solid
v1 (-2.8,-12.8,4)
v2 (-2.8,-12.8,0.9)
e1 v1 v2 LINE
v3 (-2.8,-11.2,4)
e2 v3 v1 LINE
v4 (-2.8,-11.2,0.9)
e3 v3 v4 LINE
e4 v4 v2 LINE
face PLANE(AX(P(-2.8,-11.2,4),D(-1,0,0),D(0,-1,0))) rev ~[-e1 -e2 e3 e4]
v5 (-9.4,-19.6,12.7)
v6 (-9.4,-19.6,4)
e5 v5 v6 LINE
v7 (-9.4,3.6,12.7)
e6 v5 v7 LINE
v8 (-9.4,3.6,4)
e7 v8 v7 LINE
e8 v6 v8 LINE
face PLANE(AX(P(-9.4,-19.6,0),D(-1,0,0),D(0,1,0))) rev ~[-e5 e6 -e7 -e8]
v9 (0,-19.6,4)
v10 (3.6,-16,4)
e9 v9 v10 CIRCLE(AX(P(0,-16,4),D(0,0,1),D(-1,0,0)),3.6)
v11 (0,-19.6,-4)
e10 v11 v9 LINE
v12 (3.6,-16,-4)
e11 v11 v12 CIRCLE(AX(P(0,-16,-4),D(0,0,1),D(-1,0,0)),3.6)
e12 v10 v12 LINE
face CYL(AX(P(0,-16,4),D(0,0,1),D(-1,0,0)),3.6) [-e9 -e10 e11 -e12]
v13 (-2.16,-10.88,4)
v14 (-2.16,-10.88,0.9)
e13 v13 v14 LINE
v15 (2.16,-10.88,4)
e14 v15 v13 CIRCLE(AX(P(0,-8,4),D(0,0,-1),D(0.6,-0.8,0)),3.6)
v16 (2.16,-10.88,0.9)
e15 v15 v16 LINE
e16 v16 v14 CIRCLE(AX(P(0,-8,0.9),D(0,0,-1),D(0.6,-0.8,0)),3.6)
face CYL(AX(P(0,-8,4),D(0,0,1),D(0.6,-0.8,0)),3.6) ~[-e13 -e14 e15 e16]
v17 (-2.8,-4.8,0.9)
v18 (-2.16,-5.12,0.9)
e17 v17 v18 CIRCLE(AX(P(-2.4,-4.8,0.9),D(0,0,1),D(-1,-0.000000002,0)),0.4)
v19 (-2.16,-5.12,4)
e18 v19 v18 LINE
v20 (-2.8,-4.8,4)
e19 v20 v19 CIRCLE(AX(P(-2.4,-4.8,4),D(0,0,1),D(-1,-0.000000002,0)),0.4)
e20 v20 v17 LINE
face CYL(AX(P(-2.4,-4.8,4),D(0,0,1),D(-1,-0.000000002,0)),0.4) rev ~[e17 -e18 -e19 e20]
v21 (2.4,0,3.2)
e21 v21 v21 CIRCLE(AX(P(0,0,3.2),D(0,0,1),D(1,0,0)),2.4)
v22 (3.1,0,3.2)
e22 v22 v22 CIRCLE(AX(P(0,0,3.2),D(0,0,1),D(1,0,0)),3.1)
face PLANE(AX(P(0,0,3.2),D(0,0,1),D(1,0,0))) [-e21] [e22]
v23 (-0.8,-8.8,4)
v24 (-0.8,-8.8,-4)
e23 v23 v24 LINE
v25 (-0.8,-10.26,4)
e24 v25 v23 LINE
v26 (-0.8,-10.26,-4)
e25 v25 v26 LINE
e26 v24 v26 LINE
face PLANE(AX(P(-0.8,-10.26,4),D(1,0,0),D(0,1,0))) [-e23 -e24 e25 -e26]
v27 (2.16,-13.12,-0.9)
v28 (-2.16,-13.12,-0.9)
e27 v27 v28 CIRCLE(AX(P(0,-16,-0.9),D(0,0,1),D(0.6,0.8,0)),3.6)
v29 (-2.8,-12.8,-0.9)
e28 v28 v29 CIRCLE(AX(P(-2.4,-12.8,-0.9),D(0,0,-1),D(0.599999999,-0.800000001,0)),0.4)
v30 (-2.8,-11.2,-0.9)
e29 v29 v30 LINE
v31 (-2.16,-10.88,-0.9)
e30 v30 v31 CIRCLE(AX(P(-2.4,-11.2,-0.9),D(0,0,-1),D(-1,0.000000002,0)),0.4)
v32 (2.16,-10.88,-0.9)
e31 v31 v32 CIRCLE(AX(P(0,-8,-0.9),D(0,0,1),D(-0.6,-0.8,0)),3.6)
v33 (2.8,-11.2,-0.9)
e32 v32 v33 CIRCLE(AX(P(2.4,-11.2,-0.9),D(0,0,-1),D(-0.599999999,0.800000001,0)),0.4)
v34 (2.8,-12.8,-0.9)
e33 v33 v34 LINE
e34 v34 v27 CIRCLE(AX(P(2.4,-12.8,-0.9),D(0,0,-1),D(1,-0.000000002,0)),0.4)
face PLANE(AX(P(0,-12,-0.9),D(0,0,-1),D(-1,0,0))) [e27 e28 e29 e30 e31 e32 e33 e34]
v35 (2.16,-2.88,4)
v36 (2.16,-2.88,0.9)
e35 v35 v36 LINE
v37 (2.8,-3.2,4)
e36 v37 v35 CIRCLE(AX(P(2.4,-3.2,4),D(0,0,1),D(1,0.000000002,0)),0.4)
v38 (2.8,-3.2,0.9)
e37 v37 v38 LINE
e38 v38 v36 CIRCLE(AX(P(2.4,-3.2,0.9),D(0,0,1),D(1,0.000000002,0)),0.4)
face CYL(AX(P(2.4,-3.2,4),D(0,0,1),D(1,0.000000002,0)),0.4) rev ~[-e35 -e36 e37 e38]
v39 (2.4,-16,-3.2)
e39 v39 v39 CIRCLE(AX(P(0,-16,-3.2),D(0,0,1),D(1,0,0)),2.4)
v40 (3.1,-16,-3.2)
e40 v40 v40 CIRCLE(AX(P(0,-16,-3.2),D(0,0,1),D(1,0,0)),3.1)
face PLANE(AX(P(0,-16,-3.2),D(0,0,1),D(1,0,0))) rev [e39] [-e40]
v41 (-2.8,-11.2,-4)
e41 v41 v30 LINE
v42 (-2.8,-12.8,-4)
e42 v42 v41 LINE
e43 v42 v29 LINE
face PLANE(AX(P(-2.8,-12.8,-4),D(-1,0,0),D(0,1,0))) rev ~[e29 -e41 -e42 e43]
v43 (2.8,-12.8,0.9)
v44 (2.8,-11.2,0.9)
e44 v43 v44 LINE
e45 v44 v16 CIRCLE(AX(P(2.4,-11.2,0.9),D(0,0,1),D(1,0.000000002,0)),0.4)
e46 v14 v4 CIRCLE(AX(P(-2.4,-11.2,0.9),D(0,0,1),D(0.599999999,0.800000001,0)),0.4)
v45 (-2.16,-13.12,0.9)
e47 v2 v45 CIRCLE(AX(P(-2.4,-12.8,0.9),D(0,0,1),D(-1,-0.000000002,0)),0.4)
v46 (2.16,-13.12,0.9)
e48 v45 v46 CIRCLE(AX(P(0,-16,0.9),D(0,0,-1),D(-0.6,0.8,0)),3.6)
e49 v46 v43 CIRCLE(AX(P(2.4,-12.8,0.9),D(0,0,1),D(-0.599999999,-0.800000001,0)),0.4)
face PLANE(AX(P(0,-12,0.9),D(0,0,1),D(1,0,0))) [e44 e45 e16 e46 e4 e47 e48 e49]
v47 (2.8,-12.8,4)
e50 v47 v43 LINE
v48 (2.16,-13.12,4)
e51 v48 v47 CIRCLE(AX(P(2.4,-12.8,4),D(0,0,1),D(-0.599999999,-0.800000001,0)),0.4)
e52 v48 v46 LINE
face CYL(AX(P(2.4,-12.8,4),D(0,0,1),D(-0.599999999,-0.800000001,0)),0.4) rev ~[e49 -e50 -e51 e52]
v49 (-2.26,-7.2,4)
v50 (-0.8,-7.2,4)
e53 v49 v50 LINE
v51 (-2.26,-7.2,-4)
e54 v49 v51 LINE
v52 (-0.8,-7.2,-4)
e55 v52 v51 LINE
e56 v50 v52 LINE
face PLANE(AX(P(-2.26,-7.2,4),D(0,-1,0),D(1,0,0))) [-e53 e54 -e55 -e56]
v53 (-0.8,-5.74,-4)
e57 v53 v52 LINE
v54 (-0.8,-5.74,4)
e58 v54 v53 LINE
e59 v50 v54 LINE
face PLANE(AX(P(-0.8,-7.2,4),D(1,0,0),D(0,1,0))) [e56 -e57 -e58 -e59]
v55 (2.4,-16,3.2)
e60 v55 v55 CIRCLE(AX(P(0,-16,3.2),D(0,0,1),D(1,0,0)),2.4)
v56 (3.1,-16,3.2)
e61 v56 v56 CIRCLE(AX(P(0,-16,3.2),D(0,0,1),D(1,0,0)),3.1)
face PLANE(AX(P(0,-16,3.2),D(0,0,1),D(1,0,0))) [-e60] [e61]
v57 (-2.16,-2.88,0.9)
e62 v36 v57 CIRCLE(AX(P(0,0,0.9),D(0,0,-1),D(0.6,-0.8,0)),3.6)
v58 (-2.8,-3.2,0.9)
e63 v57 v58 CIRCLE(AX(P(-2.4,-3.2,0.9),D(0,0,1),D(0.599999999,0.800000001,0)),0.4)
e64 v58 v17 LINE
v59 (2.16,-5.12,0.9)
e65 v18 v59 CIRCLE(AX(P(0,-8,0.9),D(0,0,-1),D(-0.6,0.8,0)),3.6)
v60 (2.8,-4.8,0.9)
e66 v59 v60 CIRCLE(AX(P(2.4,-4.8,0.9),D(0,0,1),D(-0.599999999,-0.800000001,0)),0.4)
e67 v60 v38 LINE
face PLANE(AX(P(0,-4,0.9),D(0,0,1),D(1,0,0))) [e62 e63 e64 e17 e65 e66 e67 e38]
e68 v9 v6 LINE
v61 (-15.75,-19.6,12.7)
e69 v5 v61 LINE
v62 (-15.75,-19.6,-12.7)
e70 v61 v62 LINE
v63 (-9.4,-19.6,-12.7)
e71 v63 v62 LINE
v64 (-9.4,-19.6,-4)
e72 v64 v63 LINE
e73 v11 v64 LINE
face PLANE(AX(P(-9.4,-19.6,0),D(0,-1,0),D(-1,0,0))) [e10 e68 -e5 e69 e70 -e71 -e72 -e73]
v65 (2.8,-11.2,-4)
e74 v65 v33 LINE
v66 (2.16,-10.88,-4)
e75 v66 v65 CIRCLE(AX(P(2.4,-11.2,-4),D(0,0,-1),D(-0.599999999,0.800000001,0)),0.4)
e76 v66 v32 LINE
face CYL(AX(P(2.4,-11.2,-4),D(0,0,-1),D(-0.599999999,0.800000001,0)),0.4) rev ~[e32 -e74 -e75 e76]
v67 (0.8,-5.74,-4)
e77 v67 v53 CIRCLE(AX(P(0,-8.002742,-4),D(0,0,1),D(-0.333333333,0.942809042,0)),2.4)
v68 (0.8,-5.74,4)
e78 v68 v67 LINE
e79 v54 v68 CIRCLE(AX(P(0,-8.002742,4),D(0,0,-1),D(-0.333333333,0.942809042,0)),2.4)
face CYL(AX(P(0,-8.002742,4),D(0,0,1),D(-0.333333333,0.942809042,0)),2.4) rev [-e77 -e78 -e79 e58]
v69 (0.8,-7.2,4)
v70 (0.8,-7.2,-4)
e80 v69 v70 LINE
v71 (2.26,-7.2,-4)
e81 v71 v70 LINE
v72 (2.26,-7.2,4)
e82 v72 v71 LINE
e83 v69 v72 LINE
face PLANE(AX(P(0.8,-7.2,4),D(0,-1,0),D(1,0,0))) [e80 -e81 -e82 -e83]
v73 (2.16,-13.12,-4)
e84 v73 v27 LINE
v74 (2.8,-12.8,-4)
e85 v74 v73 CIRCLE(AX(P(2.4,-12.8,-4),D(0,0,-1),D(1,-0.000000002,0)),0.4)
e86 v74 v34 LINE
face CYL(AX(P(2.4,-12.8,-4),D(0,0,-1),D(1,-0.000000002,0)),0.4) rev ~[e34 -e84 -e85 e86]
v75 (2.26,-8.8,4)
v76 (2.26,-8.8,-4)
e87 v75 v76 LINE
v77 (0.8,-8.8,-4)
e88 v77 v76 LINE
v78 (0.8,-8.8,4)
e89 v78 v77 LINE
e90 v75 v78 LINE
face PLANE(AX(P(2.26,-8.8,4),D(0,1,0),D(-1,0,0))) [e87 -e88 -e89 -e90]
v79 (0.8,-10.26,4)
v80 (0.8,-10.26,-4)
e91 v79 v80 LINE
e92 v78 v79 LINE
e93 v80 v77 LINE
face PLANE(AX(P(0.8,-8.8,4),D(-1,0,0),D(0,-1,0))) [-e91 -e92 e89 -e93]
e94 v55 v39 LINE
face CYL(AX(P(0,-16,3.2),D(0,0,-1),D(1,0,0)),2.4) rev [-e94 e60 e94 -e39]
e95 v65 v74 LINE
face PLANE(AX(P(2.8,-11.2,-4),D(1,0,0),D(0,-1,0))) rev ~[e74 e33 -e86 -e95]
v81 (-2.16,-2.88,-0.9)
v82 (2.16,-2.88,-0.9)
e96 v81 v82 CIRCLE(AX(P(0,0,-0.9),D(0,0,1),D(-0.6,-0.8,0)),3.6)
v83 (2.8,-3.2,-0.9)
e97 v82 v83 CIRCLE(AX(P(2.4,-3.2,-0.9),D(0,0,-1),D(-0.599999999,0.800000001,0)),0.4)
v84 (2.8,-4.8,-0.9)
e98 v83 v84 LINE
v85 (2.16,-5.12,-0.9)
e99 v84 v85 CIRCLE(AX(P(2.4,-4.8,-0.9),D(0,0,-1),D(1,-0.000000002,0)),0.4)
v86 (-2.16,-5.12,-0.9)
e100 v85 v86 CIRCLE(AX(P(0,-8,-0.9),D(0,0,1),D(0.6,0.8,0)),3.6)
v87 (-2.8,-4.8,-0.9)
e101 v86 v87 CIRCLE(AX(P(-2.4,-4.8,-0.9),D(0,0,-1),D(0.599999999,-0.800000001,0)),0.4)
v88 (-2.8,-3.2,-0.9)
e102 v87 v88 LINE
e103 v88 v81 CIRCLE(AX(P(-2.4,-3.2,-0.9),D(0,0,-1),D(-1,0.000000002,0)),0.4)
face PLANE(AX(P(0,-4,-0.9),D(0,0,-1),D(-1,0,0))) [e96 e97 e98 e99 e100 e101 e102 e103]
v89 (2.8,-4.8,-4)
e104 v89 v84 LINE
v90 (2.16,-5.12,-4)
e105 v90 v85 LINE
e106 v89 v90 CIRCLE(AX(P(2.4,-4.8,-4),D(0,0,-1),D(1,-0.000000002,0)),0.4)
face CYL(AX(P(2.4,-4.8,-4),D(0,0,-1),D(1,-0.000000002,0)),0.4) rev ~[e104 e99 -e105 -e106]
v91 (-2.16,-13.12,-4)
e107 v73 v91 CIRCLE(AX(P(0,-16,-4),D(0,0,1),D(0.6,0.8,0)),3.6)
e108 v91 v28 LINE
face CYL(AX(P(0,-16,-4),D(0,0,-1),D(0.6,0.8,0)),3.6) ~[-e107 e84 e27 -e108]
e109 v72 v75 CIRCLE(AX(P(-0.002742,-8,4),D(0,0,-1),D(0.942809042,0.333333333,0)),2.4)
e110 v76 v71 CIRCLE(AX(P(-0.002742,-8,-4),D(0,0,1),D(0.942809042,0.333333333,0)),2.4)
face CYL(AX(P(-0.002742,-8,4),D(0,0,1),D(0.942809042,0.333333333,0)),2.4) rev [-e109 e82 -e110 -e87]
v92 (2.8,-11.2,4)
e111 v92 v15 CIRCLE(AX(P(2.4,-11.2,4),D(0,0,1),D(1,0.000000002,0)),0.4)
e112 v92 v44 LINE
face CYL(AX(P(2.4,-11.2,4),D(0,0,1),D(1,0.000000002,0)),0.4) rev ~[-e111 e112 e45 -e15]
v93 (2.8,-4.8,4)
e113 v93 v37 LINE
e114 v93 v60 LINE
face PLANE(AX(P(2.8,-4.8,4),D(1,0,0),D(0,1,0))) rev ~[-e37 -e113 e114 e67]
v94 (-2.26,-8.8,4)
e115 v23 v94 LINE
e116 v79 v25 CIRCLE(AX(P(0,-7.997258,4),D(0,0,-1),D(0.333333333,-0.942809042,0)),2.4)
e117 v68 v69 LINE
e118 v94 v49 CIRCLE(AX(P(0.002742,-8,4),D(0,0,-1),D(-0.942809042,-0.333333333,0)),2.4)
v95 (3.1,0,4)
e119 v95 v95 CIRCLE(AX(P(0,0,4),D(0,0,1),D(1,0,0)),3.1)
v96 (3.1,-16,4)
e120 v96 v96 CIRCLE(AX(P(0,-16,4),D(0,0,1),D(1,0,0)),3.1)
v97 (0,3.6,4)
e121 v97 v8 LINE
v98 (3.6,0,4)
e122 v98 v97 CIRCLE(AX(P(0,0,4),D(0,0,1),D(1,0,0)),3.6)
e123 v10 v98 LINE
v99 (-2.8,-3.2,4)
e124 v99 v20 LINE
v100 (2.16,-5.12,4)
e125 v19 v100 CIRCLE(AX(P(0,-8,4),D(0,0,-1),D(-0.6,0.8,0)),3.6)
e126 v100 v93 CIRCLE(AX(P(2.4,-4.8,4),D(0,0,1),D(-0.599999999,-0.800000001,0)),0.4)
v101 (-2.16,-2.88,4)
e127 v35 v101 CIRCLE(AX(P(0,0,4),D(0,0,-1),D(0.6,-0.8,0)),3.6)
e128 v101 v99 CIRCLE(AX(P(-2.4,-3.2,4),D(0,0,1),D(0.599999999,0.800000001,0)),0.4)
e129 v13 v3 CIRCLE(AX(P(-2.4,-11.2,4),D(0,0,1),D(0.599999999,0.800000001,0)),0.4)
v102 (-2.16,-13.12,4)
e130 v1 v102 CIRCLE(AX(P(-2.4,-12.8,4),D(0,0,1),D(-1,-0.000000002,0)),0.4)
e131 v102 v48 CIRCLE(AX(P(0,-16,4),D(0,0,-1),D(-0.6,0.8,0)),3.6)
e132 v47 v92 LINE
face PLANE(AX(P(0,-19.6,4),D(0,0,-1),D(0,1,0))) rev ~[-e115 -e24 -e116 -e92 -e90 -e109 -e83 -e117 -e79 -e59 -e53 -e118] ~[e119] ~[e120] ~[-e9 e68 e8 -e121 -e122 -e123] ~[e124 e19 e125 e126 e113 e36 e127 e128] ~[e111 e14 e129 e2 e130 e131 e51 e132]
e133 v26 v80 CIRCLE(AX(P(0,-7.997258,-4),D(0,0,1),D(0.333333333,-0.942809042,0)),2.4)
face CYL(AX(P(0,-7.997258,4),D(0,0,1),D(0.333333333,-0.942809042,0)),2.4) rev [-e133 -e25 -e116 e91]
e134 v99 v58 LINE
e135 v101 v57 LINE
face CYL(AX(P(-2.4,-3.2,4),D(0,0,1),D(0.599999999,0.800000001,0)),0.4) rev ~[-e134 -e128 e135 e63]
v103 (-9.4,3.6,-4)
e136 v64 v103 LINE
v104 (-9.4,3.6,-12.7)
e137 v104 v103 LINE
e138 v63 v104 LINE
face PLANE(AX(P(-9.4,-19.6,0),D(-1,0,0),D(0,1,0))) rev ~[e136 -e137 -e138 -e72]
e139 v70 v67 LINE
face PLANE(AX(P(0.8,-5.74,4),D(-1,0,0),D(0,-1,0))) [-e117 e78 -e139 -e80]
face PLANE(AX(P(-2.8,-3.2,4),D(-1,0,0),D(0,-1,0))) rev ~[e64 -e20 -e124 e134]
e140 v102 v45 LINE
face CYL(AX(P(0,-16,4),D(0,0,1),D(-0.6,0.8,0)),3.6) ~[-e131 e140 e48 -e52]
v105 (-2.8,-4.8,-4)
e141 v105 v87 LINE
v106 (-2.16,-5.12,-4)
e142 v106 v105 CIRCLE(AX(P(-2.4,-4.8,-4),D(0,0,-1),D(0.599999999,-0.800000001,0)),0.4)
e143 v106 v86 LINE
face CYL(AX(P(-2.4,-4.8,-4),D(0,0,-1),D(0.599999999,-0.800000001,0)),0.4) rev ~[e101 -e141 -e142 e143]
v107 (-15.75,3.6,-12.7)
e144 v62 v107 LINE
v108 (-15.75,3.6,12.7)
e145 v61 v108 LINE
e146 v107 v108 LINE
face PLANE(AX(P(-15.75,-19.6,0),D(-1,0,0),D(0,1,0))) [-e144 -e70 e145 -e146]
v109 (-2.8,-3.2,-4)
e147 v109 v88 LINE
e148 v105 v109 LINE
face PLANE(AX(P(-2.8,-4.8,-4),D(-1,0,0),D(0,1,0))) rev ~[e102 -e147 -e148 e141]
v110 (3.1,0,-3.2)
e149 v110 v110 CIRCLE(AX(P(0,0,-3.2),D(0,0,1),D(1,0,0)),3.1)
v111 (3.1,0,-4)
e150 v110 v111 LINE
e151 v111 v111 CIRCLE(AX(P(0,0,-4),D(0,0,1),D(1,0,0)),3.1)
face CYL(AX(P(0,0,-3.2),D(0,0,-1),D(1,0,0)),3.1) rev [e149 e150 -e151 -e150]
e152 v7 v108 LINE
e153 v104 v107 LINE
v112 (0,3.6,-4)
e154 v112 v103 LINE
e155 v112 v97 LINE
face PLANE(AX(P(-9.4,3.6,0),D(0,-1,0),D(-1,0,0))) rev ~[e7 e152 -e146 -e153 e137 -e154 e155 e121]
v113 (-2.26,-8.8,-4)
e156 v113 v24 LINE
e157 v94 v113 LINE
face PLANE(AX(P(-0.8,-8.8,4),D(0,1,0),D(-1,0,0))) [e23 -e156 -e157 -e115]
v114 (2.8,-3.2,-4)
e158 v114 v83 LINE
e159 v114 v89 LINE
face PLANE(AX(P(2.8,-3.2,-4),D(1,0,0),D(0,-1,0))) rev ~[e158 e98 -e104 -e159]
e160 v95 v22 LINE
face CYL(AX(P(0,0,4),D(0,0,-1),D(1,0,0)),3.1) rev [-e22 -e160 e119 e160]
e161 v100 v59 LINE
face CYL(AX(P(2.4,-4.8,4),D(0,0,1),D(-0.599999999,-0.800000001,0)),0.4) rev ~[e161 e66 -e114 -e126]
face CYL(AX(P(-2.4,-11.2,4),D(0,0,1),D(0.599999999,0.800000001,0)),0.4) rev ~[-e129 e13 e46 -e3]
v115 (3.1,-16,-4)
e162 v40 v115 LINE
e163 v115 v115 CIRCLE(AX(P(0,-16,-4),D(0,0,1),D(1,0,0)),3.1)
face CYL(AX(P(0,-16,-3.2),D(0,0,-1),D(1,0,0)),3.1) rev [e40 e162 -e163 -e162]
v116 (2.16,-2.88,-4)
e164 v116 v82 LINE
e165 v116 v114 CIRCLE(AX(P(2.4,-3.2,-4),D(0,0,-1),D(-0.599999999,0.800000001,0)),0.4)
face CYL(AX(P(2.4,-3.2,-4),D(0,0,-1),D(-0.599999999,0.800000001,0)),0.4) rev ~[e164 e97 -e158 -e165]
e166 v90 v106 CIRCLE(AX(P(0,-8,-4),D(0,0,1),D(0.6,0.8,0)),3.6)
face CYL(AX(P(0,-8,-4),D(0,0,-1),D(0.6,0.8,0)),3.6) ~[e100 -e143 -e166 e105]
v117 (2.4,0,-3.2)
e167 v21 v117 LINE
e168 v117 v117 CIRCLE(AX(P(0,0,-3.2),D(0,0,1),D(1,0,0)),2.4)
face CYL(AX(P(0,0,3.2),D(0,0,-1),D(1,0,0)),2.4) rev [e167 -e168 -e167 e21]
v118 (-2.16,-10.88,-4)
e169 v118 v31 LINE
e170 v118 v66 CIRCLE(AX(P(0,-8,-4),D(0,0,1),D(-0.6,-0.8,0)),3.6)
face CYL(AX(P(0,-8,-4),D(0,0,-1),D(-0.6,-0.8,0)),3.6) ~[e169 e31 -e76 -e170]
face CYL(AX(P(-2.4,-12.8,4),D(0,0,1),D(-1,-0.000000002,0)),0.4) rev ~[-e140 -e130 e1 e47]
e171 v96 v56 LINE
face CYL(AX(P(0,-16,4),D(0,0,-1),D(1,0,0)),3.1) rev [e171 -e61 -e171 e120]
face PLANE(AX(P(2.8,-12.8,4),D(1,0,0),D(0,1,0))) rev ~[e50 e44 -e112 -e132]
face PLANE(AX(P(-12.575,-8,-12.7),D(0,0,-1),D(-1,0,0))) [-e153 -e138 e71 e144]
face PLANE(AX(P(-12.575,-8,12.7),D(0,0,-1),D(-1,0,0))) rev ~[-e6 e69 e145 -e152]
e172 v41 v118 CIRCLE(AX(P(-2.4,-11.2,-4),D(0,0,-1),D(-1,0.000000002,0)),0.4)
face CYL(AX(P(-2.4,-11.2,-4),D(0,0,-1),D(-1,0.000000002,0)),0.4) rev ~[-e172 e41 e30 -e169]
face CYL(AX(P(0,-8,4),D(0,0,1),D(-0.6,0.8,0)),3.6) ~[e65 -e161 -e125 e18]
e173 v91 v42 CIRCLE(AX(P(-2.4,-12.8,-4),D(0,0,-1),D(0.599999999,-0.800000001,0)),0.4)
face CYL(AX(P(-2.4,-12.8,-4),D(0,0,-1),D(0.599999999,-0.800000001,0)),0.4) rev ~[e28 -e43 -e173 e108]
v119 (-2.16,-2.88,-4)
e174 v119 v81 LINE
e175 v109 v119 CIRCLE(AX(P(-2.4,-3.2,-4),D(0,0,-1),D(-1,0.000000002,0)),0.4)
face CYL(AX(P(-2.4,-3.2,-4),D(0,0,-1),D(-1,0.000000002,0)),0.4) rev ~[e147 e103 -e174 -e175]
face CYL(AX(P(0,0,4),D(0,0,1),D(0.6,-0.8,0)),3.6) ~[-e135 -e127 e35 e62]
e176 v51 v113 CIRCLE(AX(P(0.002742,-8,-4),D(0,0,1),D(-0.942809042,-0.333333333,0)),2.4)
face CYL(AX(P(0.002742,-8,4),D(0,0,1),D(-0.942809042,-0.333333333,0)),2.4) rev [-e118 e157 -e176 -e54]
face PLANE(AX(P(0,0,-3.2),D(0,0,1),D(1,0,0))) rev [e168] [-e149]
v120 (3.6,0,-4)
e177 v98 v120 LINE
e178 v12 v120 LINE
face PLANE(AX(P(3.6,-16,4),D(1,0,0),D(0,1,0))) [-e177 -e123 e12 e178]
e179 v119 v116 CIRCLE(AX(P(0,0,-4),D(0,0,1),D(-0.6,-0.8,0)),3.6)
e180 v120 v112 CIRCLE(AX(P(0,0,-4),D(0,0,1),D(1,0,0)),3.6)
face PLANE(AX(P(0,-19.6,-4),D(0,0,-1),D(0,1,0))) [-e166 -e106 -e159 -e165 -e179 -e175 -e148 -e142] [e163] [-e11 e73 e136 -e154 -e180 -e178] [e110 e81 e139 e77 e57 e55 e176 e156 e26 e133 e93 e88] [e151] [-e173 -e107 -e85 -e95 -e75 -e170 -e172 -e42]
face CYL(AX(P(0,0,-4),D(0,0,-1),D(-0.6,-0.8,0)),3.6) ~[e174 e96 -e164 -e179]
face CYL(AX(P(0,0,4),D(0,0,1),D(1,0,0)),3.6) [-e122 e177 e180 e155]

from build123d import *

# Parameters (mm, degrees)
BOSS_EXTRUDE1_DEPTH = 8
SKETCH15_W          = 8
SKETCH15_H          = 23.2
BOSS_EXTRUDE2_DEPTH = 15.75
CUT_EXTRUDE2_DEPTH  = 3.1
CUT_EXTRUDE4_DEPTH  = 3.1
CUT_EXTRUDE6_DEPTH  = 3.1
CUT_EXTRUDE7_DEPTH  = 3.1
CUT_EXTRUDE12_DEPTH = 9
SKETCH18_W          = 6.35
SKETCH18_H          = 23.2
BOSS_EXTRUDE3_DEPTH = 12.7


with BuildPart() as part:
    # Sketch1 → Boss-Extrude1 (new body)
    with BuildSketch(Plane.XY.offset(4)):
        with BuildLine():
            Line((-3.6, 0), (-3.6, -16))
            ThreePointArc((-3.6, -16), (0, -19.6), (3.6, -16))
            Line((3.6, -16), (3.6, 0))
            ThreePointArc((3.6, 0), (0, 3.6), (-3.6, 0))
        make_face()
    extrude(amount=-BOSS_EXTRUDE1_DEPTH)

    # Sketch15 → Boss-Extrude2 (add)
    with BuildSketch(Plane.ZY):
        with Locations((0, -8)):
            Rectangle(SKETCH15_W, SKETCH15_H)
    extrude(amount=BOSS_EXTRUDE2_DEPTH)

    # Sketch3 → Cut-Extrude2 (cut)
    with BuildSketch(Plane.XY.offset(4)):
        with BuildLine():
            Line((2.8, -4.8), (2.8, -3.2))
            ThreePointArc((2.8, -3.2), (2.578885438, -2.842229124), (2.16, -2.88))
            ThreePointArc((2.16, -2.88), (0, -3.6), (-2.16, -2.88))
            ThreePointArc((-2.16, -2.88), (-2.578885438, -2.842229124), (-2.8, -3.2))
            Line((-2.8, -3.2), (-2.8, -4.8))
            ThreePointArc((-2.8, -4.8), (-2.578885438, -5.157770876), (-2.16, -5.12))
            ThreePointArc((-2.16, -5.12), (0, -4.4), (2.16, -5.12))
            ThreePointArc((2.16, -5.12), (2.578885438, -5.157770876), (2.8, -4.8))
        make_face()
    extrude(amount=-CUT_EXTRUDE2_DEPTH, mode=Mode.SUBTRACT)

    # Sketch5 → Cut-Extrude4 (cut)
    with BuildSketch(Plane.XY.offset(4)):
        with BuildLine():
            Line((2.8, -12.8), (2.8, -11.2))
            ThreePointArc((2.8, -11.2), (2.578885438, -10.842229124), (2.16, -10.88))
            ThreePointArc((2.16, -10.88), (0, -11.6), (-2.16, -10.88))
            ThreePointArc((-2.16, -10.88), (-2.578885438, -10.842229124), (-2.8, -11.2))
            Line((-2.8, -11.2), (-2.8, -12.8))
            ThreePointArc((-2.8, -12.8), (-2.578885438, -13.157770876), (-2.16, -13.12))
            ThreePointArc((-2.16, -13.12), (0, -12.4), (2.16, -13.12))
            ThreePointArc((2.16, -13.12), (2.578885438, -13.157770876), (2.8, -12.8))
        make_face()
    extrude(amount=-CUT_EXTRUDE4_DEPTH, mode=Mode.SUBTRACT)

    # Sketch7 → Cut-Extrude6 (cut)
    with BuildSketch(Plane(origin=(0, 0, -4), x_dir=(-1, 0, 0), z_dir=(0, 0, -1))):
        with BuildLine():
            Line((2.8, -4.8), (2.8, -3.2))
            ThreePointArc((2.8, -3.2), (2.578885438, -2.842229124), (2.16, -2.88))
            ThreePointArc((2.16, -2.88), (0, -3.6), (-2.16, -2.88))
            ThreePointArc((-2.16, -2.88), (-2.578885438, -2.842229124), (-2.8, -3.2))
            Line((-2.8, -3.2), (-2.8, -4.8))
            ThreePointArc((-2.8, -4.8), (-2.578885438, -5.157770876), (-2.16, -5.12))
            ThreePointArc((-2.16, -5.12), (0, -4.4), (2.16, -5.12))
            ThreePointArc((2.16, -5.12), (2.578885438, -5.157770876), (2.8, -4.8))
        make_face()
    extrude(amount=-CUT_EXTRUDE6_DEPTH, mode=Mode.SUBTRACT)

    # Sketch8 → Cut-Extrude7 (cut)
    with BuildSketch(Plane(origin=(0, 0, -4), x_dir=(-1, 0, 0), z_dir=(0, 0, -1))):
        with BuildLine():
            Line((-2.8, -11.2), (-2.8, -12.8))
            ThreePointArc((-2.8, -12.8), (-2.578885438, -13.157770876), (-2.16, -13.12))
            ThreePointArc((-2.16, -13.12), (0, -12.4), (2.16, -13.12))
            ThreePointArc((2.16, -13.12), (2.578885438, -13.157770876), (2.8, -12.8))
            Line((2.8, -12.8), (2.8, -11.2))
            ThreePointArc((2.8, -11.2), (2.578885438, -10.842229124), (2.16, -10.88))
            ThreePointArc((2.16, -10.88), (0, -11.6), (-2.16, -10.88))
            ThreePointArc((-2.16, -10.88), (-2.578885438, -10.842229124), (-2.8, -11.2))
        make_face()
    extrude(amount=-CUT_EXTRUDE7_DEPTH, mode=Mode.SUBTRACT)

    # Sketch10 → Cut-Revolve1 (revolve, cut)
    with BuildSketch(Plane(origin=(0, -16, 0), x_dir=(1, 0, 0), z_dir=(0, 1, 0))):
        Polygon((3.1, 4), (0, 4), (0, -4), (3.1, -4), (3.1, -3.2), (2.4, -3.2), (2.4, 3.2), (3.1, 3.2), align=None)
    revolve(axis=Axis((0, -16, -4), (0, 0, 1)), mode=Mode.SUBTRACT)

    # Sketch13 → Cut-Revolve4 (revolve, cut)
    with BuildSketch(Plane(origin=(0, 0, 0), x_dir=(1, 0, 0), z_dir=(0, 1, 0))):
        Polygon((3.1, 4), (0, 4), (0, -4), (3.1, -4), (3.1, -3.2), (2.4, -3.2), (2.4, 3.2), (3.1, 3.2), align=None)
    revolve(axis=Axis((0, 0, -4), (0, 0, 1)), mode=Mode.SUBTRACT)

    # Sketch14 → Cut-Extrude12 (cut, through all)
    with BuildSketch(Plane.XY.offset(4)):
        with BuildLine():
            ThreePointArc((-2.26, -8.8), (-2.3972583, -8), (-2.26, -7.2))
            Line((-2.26, -7.2), (-0.8, -7.2))
            Line((-0.8, -7.2), (-0.8, -5.74))
            ThreePointArc((-0.8, -5.74), (0, -5.6027417), (0.8, -5.74))
            Line((0.8, -5.74), (0.8, -7.2))
            Line((0.8, -7.2), (2.26, -7.2))
            ThreePointArc((2.26, -7.2), (2.3972583, -8), (2.26, -8.8))
            Line((2.26, -8.8), (0.8, -8.8))
            Line((0.8, -8.8), (0.8, -10.26))
            ThreePointArc((0.8, -10.26), (0, -10.3972583), (-0.8, -10.26))
            Line((-0.8, -10.26), (-0.8, -8.8))
            Line((-0.8, -8.8), (-2.26, -8.8))
        make_face()
    extrude(amount=-CUT_EXTRUDE12_DEPTH, mode=Mode.SUBTRACT)

    # Sketch18 → Boss-Extrude3 (add, symmetric)
    with BuildSketch(Plane(origin=(0, 0, 0), x_dir=(-1, 0, 0), z_dir=(0, 0, -1))):
        with Locations((12.575, -8)):
            Rectangle(SKETCH18_W, SKETCH18_H)
    extrude(amount=BOSS_EXTRUDE3_DEPTH, both=True)


solid = part.part
